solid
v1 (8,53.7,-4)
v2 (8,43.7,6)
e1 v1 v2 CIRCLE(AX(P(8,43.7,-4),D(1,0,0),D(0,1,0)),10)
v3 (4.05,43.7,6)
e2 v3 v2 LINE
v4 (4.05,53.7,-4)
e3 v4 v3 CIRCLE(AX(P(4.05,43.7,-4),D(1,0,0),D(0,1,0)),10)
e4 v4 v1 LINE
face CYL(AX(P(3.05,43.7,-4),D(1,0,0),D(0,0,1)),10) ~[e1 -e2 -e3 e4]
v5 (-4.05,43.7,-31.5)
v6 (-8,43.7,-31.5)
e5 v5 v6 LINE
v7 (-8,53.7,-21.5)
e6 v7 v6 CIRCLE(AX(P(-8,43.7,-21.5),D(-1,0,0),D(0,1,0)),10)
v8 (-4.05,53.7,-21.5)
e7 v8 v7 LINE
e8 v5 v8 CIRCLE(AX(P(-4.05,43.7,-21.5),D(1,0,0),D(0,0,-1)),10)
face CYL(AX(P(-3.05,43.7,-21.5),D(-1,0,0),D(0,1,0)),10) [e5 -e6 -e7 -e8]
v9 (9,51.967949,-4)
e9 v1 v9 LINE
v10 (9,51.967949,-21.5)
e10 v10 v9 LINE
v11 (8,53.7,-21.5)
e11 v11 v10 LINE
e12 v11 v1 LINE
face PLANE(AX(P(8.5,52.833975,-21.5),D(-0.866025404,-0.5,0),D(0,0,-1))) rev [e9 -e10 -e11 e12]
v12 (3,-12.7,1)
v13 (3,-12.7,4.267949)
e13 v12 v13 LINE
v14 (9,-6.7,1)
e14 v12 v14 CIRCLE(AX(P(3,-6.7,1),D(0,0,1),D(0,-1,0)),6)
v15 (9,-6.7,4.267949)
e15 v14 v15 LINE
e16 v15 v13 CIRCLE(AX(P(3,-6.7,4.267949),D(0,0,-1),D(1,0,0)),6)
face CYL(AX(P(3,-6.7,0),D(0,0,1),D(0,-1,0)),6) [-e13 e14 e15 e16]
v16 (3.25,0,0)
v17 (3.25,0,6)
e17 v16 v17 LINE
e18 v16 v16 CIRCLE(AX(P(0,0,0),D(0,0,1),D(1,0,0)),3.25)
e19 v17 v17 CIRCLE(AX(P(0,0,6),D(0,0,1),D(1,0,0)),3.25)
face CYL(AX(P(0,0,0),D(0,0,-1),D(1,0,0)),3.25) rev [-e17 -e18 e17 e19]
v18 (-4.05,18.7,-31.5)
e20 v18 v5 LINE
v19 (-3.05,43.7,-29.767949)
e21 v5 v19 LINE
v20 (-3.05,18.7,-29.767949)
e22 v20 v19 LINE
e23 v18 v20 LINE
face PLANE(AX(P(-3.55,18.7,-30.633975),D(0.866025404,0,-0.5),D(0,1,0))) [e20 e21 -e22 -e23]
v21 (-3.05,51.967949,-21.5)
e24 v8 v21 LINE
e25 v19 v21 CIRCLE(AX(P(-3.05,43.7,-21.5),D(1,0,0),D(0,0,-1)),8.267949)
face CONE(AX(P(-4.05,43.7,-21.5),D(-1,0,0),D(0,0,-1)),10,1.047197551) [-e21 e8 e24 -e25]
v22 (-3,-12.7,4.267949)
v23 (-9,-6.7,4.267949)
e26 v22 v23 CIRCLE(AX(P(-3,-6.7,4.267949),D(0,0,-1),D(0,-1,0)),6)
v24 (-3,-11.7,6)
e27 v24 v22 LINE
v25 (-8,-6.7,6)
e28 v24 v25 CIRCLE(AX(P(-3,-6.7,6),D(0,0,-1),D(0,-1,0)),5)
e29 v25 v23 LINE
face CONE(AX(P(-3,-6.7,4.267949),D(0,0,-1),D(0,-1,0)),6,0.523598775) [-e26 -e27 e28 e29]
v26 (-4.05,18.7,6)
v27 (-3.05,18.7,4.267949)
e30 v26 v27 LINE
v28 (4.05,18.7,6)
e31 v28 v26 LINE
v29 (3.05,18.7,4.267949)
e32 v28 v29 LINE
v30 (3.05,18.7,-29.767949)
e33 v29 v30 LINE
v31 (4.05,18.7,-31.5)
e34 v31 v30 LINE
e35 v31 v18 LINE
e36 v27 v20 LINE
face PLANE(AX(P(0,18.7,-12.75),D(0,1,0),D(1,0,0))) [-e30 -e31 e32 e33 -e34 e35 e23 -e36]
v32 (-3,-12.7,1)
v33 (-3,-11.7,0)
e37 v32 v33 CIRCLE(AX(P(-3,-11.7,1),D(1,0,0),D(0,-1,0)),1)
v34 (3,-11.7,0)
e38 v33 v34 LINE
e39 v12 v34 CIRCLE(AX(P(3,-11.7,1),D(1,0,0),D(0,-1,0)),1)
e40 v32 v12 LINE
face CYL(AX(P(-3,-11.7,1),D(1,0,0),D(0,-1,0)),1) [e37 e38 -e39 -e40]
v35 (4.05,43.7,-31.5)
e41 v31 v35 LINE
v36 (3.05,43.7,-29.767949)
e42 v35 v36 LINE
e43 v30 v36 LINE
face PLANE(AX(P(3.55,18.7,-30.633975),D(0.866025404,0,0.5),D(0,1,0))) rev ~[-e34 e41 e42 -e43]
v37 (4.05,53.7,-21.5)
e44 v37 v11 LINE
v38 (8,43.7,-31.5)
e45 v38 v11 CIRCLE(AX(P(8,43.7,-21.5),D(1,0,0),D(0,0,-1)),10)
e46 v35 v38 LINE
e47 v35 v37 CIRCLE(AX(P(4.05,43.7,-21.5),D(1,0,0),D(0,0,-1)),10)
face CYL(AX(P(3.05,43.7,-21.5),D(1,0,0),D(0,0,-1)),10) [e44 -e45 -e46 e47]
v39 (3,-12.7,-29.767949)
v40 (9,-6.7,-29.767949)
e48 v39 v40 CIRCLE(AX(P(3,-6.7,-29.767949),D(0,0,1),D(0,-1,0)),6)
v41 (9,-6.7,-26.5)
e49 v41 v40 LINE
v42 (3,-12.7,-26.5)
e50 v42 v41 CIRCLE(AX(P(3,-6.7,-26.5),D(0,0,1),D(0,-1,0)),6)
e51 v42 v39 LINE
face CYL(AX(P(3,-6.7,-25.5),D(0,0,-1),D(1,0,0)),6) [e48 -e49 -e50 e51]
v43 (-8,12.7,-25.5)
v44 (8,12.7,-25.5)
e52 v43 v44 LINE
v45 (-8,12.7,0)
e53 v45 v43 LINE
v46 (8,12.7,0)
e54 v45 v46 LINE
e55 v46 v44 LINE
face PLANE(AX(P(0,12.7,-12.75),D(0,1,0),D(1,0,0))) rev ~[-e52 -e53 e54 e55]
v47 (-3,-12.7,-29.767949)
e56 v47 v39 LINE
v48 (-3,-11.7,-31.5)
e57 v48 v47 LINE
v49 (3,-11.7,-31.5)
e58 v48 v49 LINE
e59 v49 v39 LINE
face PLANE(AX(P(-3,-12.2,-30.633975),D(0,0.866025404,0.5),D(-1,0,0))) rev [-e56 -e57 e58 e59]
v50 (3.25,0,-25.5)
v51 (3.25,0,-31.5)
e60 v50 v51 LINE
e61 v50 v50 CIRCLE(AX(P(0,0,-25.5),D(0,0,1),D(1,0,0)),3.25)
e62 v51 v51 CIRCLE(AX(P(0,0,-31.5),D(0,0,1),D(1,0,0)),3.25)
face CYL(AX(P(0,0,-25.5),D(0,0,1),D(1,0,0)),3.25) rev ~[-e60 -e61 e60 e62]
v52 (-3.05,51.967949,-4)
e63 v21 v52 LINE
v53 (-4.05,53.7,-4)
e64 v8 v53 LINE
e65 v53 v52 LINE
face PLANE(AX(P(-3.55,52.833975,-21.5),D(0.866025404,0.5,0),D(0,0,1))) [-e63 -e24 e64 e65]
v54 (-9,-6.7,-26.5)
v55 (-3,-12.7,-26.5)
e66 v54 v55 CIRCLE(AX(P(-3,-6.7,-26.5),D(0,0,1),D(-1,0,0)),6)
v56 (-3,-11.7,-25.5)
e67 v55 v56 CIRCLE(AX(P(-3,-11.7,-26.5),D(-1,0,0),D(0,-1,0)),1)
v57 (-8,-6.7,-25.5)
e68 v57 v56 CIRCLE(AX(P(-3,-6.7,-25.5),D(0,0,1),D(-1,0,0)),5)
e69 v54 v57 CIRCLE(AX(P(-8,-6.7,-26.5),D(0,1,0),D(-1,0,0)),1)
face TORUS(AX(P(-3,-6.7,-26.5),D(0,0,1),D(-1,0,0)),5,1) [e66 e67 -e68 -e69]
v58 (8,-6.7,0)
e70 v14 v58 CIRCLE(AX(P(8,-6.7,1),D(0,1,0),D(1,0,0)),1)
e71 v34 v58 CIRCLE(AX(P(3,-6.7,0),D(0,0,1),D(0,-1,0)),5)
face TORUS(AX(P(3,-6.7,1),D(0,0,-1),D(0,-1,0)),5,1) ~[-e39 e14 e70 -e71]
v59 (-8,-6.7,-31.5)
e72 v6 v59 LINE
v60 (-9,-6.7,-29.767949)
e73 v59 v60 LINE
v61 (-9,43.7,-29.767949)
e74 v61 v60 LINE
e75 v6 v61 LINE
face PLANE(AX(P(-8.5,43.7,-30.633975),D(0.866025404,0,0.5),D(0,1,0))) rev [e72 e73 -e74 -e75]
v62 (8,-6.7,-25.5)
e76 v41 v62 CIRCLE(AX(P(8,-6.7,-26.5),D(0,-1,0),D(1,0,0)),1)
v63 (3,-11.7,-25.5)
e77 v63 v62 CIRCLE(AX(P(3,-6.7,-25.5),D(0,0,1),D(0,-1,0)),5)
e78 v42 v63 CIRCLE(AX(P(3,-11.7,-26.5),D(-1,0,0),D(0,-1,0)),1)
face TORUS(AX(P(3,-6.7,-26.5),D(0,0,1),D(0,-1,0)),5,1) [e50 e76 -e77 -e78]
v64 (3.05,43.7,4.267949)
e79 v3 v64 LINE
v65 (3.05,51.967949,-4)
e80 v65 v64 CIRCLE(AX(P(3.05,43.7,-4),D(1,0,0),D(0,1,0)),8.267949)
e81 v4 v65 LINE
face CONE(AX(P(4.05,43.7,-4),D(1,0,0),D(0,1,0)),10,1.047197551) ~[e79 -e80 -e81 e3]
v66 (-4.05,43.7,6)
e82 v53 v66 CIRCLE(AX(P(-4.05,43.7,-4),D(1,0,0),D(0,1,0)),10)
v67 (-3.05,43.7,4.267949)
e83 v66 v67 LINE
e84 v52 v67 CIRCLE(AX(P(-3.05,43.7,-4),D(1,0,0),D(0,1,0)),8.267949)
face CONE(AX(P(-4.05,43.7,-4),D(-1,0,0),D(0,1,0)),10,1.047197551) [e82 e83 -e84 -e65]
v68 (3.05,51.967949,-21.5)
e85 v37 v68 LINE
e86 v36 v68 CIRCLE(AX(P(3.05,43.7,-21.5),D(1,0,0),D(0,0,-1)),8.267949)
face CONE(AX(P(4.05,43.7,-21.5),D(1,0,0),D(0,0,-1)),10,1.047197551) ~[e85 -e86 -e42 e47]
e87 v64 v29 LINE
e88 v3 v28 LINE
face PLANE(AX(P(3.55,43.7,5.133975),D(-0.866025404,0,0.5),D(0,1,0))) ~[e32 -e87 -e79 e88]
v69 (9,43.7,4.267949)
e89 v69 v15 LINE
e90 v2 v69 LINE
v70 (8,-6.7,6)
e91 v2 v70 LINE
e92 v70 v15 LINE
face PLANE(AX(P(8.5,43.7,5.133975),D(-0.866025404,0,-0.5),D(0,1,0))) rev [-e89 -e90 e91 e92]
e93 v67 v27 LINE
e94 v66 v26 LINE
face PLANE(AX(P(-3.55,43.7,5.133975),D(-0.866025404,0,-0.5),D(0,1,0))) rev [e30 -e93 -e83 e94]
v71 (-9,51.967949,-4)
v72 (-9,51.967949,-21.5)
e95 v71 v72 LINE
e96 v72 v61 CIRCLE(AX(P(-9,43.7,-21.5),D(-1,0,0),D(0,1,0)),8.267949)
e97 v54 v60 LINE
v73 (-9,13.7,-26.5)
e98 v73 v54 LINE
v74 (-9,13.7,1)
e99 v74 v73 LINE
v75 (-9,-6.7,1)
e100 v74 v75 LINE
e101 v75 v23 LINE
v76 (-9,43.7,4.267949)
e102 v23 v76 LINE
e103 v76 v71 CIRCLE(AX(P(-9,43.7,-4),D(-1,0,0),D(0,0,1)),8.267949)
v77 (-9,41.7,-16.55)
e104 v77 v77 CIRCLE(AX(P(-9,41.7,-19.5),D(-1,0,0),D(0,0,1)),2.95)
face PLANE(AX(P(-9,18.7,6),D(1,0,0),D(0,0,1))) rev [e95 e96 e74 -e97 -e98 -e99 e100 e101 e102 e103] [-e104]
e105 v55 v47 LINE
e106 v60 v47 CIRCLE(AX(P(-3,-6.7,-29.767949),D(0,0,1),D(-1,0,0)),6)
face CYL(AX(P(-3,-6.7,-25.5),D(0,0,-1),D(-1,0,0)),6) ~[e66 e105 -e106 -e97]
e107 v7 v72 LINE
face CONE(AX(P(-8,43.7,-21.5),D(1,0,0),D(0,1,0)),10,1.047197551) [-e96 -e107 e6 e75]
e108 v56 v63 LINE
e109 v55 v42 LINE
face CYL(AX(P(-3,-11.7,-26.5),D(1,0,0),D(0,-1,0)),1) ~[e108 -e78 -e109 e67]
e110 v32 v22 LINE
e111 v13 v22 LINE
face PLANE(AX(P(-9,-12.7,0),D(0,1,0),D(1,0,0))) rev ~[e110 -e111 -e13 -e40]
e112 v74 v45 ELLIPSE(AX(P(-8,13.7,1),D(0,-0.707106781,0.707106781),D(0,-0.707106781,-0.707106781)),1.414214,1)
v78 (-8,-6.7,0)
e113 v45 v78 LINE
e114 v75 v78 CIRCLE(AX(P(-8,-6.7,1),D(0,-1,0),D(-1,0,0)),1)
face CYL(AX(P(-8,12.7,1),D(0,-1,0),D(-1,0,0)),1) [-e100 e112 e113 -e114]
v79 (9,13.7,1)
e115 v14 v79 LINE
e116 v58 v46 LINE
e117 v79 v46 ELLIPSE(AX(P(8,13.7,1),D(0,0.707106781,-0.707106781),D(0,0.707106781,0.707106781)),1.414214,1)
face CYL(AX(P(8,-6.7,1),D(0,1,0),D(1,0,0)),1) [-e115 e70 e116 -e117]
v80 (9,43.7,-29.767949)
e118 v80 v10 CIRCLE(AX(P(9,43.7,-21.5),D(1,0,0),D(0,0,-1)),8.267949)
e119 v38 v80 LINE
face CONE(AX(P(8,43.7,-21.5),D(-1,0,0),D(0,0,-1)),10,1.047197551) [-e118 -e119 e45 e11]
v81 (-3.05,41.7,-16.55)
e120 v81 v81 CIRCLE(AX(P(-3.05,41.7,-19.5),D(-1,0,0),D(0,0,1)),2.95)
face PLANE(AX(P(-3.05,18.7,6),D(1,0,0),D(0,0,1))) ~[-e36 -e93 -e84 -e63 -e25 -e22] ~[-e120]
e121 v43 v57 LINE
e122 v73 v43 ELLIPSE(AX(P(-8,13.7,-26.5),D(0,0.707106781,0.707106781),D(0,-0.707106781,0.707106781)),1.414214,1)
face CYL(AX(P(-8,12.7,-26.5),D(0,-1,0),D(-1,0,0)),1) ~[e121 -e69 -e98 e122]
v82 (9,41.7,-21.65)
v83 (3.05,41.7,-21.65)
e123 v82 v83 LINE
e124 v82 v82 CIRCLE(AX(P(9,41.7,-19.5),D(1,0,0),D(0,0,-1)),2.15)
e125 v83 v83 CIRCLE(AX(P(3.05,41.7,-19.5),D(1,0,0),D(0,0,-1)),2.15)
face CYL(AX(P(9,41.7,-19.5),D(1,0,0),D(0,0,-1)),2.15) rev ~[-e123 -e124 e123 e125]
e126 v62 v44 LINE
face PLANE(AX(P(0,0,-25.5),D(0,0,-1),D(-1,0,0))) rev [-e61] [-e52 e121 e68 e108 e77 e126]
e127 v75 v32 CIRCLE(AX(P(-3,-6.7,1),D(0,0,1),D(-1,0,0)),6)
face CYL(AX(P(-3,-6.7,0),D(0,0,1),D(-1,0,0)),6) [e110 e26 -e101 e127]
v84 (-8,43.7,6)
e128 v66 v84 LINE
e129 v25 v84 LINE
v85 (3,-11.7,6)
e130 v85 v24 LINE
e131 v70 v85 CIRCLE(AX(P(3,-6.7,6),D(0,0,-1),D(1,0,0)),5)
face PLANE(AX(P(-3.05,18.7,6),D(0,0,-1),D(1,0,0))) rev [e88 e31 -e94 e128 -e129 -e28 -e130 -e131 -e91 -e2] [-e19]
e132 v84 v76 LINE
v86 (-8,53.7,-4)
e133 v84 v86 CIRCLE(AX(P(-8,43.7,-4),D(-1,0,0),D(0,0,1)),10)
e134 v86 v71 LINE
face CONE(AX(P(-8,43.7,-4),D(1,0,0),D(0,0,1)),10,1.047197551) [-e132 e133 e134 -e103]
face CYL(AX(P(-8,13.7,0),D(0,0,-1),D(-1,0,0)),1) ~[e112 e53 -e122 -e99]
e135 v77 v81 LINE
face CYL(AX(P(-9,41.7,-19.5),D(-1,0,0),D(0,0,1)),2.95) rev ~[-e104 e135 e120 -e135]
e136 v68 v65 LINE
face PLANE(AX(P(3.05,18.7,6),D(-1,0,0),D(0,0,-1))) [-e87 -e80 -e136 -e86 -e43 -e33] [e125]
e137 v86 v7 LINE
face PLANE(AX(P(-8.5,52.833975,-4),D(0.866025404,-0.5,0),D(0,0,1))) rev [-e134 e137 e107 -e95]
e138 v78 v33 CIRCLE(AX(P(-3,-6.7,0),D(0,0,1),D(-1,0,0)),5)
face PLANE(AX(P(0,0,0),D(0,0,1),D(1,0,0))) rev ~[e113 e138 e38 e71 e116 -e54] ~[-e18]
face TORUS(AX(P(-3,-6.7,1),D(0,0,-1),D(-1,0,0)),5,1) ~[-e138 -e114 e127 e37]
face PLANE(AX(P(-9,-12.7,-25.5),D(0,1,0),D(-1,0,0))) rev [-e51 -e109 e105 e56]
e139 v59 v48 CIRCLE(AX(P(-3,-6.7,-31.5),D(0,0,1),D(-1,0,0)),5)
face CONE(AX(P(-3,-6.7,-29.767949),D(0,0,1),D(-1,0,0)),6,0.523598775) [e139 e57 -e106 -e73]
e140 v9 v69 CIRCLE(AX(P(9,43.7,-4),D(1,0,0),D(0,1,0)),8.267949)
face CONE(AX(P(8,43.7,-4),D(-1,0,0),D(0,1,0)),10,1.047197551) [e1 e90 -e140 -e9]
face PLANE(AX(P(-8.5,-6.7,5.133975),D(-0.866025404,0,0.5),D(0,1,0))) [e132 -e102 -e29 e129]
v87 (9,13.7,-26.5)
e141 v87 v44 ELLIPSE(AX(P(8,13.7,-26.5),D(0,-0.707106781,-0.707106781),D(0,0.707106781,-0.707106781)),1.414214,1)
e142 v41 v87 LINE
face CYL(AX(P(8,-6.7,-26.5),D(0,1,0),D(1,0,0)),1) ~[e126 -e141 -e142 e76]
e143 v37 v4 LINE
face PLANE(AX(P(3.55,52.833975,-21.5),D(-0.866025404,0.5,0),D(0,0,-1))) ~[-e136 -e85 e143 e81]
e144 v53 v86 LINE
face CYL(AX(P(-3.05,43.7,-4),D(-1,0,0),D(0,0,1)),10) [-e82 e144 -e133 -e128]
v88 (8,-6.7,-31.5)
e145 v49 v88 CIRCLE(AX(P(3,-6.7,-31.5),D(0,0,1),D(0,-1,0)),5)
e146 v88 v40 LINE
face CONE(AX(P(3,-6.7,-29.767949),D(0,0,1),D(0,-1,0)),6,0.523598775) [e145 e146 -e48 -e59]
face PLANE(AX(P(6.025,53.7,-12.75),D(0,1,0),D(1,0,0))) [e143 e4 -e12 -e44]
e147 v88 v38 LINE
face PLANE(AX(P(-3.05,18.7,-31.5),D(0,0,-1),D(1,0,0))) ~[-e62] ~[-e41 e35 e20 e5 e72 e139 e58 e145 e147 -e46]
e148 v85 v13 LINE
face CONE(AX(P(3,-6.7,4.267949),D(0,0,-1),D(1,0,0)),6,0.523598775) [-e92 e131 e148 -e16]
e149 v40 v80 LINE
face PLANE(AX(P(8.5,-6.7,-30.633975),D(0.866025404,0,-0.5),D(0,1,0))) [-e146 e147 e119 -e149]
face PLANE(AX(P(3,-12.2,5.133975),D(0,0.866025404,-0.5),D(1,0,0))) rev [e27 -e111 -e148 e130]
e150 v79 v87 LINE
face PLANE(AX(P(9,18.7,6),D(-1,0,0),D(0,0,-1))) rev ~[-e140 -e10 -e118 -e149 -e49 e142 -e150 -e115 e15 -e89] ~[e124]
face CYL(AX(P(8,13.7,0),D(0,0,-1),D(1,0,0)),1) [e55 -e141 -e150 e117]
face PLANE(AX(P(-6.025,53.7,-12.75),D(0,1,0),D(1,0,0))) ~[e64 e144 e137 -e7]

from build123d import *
from OCP.BRepFilletAPI import BRepFilletAPI_MakeChamfer

# Parameters (mm, degrees)
SKETCH1_W           = 18
SKETCH1_H           = 25.4
SKETCH1_R           = 3.25
BOSS_EXTRUDE1_DEPTH = 6
SKETCH2_W           = 18
SKETCH2_H           = 37.5
BOSS_EXTRUDE2_DEPTH = 6
SKETCH3_W           = 5.95
SKETCH3_H           = 37.5
BOSS_EXTRUDE3_DEPTH = 35
SKETCH4_R           = 2.15
CUT_EXTRUDE1_DEPTH  = 65.806944072
CUT_EXTRUDE2_REACH  = 66.807
SKETCH5_R           = 2.95
FILLET1_R           = 10
FILLET2_R           = 6
CHAMFER1_SIZE       = 1
CHAMFER1_SIZE2      = 1.732050808
CHAMFER2_SIZE       = 1
CHAMFER2_SIZE2      = 1.732050808
FILLET3_R           = 1


with BuildPart() as part:
    # Sketch1 → Boss-Extrude1 (new body)
    with BuildSketch(Plane.XY):
        Rectangle(SKETCH1_W, SKETCH1_H)
        Circle(SKETCH1_R, mode=Mode.SUBTRACT)
    boss_extrude1 = extrude(amount=BOSS_EXTRUDE1_DEPTH)

    # Sketch2 → Boss-Extrude2 (add)
    with BuildSketch(Plane(origin=(0, 12.7, 0), x_dir=(1, 0, 0), z_dir=(0, 1, 0))):
        with Locations((0, 12.75)):
            Rectangle(SKETCH2_W, SKETCH2_H)
    extrude(amount=BOSS_EXTRUDE2_DEPTH)

    # Mirror1: Boss-Extrude1 across plane
    add(boss_extrude1.mirror(Plane.XY.offset(-12.75)))

    # Sketch3 → Boss-Extrude3 (add)
    with BuildSketch(Plane(origin=(0, 18.7, 0), x_dir=(1, 0, 0), z_dir=(0, 1, 0))):
        with Locations((6.025, 12.75)):
            Rectangle(SKETCH3_W, SKETCH3_H)
    boss_extrude3 = extrude(amount=BOSS_EXTRUDE3_DEPTH)

    # Mirror2: Boss-Extrude3 across plane
    add(boss_extrude3.mirror(Plane(origin=(0, 0, 0), x_dir=(0, 0, 1), z_dir=(1, 0, 0))))

    # Sketch4 → Cut-Extrude1 (cut, through all)
    with BuildSketch(Plane(origin=(9, 0, 0), x_dir=(0, 0, -1), z_dir=(1, 0, 0))):
        with Locations((19.5, 41.7)):
            Circle(SKETCH4_R)
    extrude(amount=-CUT_EXTRUDE1_DEPTH, mode=Mode.SUBTRACT)

    # Sketch5 → Cut-Extrude2 (cut, up to next)
    with BuildSketch(Plane.ZY.offset(9), mode=Mode.PRIVATE) as cut_extrude2_sk1:
        with Locations((-19.5, 41.7)):
            Circle(SKETCH5_R)
    cut_extrude2_tool1 = extrude(cut_extrude2_sk1.sketch, amount=-CUT_EXTRUDE2_REACH, mode=Mode.PRIVATE) & part.part
    add(cut_extrude2_tool1.solids().sort_by_distance((-9, 41.7, -19.5))[0], mode=Mode.SUBTRACT)

    # Fillet1
    fillet1_edges = [part.edges().sort_by_distance(p)[0] for p in [
        (6.025, 53.7, -31.5),
        (6.025, 53.7, 6),
        (-6.025, 53.7, 6),
        (-6.025, 53.7, -31.5),
    ]]
    fillet(fillet1_edges, radius=FILLET1_R)

    # Fillet2
    fillet2_edges = [part.edges().sort_by_distance(p)[0] for p in [
        (9, -12.7, -28.5),
        (-9, -12.7, -28.5),
        (9, -12.7, 3),
        (-9, -12.7, 3),
    ]]
    fillet(fillet2_edges, radius=FILLET2_R)

    # Chamfer1: one chamfer whose edges measure the first distance from different faces: ONE call of the kernel's chamfer builder (chamfer() names one face for all edges)
    chamfer1_edges_1 = [part.edges().sort_by_distance(p)[0] for p in [
        (-3.05, 31.2, -31.5),
        (3.05, 31.2, -31.5),
    ]]
    chamfer1_side_1 = [part.faces().sort_by_distance(p)[0] for p in [
        (0, 13.700522402, -31.5),
    ]]
    chamfer1_edges_2 = [part.edges().sort_by_distance(p)[0] for p in [
        (-3.05, 53.7, -12.75),
    ]]
    chamfer1_side_2 = [part.faces().sort_by_distance(p)[0] for p in [
        (-6.025, 53.7, -12.75),
    ]]
    chamfer1_edges_3 = [part.edges().sort_by_distance(p)[0] for p in [
        (-3.05, 31.2, 6),
        (3.05, 31.2, 6),
    ]]
    chamfer1_side_3 = [part.faces().sort_by_distance(p)[0] for p in [
        (0, 13.700522402, 6),
    ]]
    chamfer1_edges_4 = [part.edges().sort_by_distance(p)[0] for p in [
        (-3.05, 50.771067812, 3.071067812),
    ]]
    chamfer1_side_4 = [part.faces().sort_by_distance(p)[0] for p in [
        (-6.025, 50.771067812, 3.071067812),
    ]]
    chamfer1_edges_5 = [part.edges().sort_by_distance(p)[0] for p in [
        (-3.05, 50.771067812, -28.571067812),
    ]]
    chamfer1_side_5 = [part.faces().sort_by_distance(p)[0] for p in [
        (-6.025, 50.771067812, -28.571067812),
    ]]
    chamfer1_edges_6 = [part.edges().sort_by_distance(p)[0] for p in [
        (3.05, 53.7, -12.75),
    ]]
    chamfer1_side_6 = [part.faces().sort_by_distance(p)[0] for p in [
        (6.025, 53.7, -12.75),
    ]]
    chamfer1_edges_7 = [part.edges().sort_by_distance(p)[0] for p in [
        (3.05, 50.771067812, 3.071067812),
    ]]
    chamfer1_side_7 = [part.faces().sort_by_distance(p)[0] for p in [
        (6.025, 50.771067812, 3.071067812),
    ]]
    chamfer1_edges_8 = [part.edges().sort_by_distance(p)[0] for p in [
        (3.05, 50.771067812, -28.571067812),
    ]]
    chamfer1_side_8 = [part.faces().sort_by_distance(p)[0] for p in [
        (6.025, 50.771067812, -28.571067812),
    ]]
    chamfer1 = BRepFilletAPI_MakeChamfer(part.part.solid().wrapped)
    for e in chamfer1_edges_1:
        chamfer1.Add(CHAMFER1_SIZE, CHAMFER1_SIZE2, e.wrapped, chamfer1_side_1[0].wrapped)  # the first distance lies on this face
    for e in chamfer1_edges_2:
        chamfer1.Add(CHAMFER1_SIZE, CHAMFER1_SIZE2, e.wrapped, chamfer1_side_2[0].wrapped)  # the first distance lies on this face
    for e in chamfer1_edges_3:
        chamfer1.Add(CHAMFER1_SIZE, CHAMFER1_SIZE2, e.wrapped, chamfer1_side_3[0].wrapped)  # the first distance lies on this face
    for e in chamfer1_edges_4:
        chamfer1.Add(CHAMFER1_SIZE, CHAMFER1_SIZE2, e.wrapped, chamfer1_side_4[0].wrapped)  # the first distance lies on this face
    for e in chamfer1_edges_5:
        chamfer1.Add(CHAMFER1_SIZE, CHAMFER1_SIZE2, e.wrapped, chamfer1_side_5[0].wrapped)  # the first distance lies on this face
    for e in chamfer1_edges_6:
        chamfer1.Add(CHAMFER1_SIZE, CHAMFER1_SIZE2, e.wrapped, chamfer1_side_6[0].wrapped)  # the first distance lies on this face
    for e in chamfer1_edges_7:
        chamfer1.Add(CHAMFER1_SIZE, CHAMFER1_SIZE2, e.wrapped, chamfer1_side_7[0].wrapped)  # the first distance lies on this face
    for e in chamfer1_edges_8:
        chamfer1.Add(CHAMFER1_SIZE, CHAMFER1_SIZE2, e.wrapped, chamfer1_side_8[0].wrapped)  # the first distance lies on this face
    add(Compound.cast(chamfer1.Shape()), mode=Mode.REPLACE)

    # Chamfer2: one chamfer whose edges measure the first distance from different faces: ONE call of the kernel's chamfer builder (chamfer() names one face for all edges)
    chamfer2_edges_1 = [part.edges().sort_by_distance(p)[0] for p in [
        (0, -12.7, -31.5),
        (7.242640687, -10.942640687, -31.5),
        (-7.242640687, -10.942640687, -31.5),
        (9, 18.5, -31.5),
        (-9, 18.5, -31.5),
    ]]
    chamfer2_side_1 = [part.faces().sort_by_distance(p)[0] for p in [
        (0, 12.555366953, -31.5),
    ]]
    chamfer2_edges_2 = [part.edges().sort_by_distance(p)[0] for p in [
        (9, 18.5, 6),
        (0, -12.7, 6),
        (7.242640687, -10.942640687, 6),
        (-7.242640687, -10.942640687, 6),
        (-9, 18.5, 6),
    ]]
    chamfer2_side_2 = [part.faces().sort_by_distance(p)[0] for p in [
        (0, 12.555366953, 6),
    ]]
    chamfer2_edges_3 = [part.edges().sort_by_distance(p)[0] for p in [
        (-9, 53.7, -12.75),
    ]]
    chamfer2_side_3 = [part.faces().sort_by_distance(p)[0] for p in [
        (-6.525, 53.7, -12.75),
    ]]
    chamfer2_edges_4 = [part.edges().sort_by_distance(p)[0] for p in [
        (-9, 50.771067812, 3.071067812),
    ]]
    chamfer2_side_4 = [part.faces().sort_by_distance(p)[0] for p in [
        (-6.525, 50.771067812, 3.071067812),
    ]]
    chamfer2_edges_5 = [part.edges().sort_by_distance(p)[0] for p in [
        (-9, 50.771067812, -28.571067812),
    ]]
    chamfer2_side_5 = [part.faces().sort_by_distance(p)[0] for p in [
        (-6.525, 50.771067812, -28.571067812),
    ]]
    chamfer2_edges_6 = [part.edges().sort_by_distance(p)[0] for p in [
        (9, 53.7, -12.75),
    ]]
    chamfer2_side_6 = [part.faces().sort_by_distance(p)[0] for p in [
        (6.525, 53.7, -12.75),
    ]]
    chamfer2_edges_7 = [part.edges().sort_by_distance(p)[0] for p in [
        (9, 50.771067812, 3.071067812),
    ]]
    chamfer2_side_7 = [part.faces().sort_by_distance(p)[0] for p in [
        (6.525, 50.771067812, 3.071067812),
    ]]
    chamfer2_edges_8 = [part.edges().sort_by_distance(p)[0] for p in [
        (9, 50.771067812, -28.571067812),
    ]]
    chamfer2_side_8 = [part.faces().sort_by_distance(p)[0] for p in [
        (6.525, 50.771067812, -28.571067812),
    ]]
    chamfer2 = BRepFilletAPI_MakeChamfer(part.part.solid().wrapped)
    for e in chamfer2_edges_1:
        chamfer2.Add(CHAMFER2_SIZE, CHAMFER2_SIZE2, e.wrapped, chamfer2_side_1[0].wrapped)  # the first distance lies on this face
    for e in chamfer2_edges_2:
        chamfer2.Add(CHAMFER2_SIZE, CHAMFER2_SIZE2, e.wrapped, chamfer2_side_2[0].wrapped)  # the first distance lies on this face
    for e in chamfer2_edges_3:
        chamfer2.Add(CHAMFER2_SIZE, CHAMFER2_SIZE2, e.wrapped, chamfer2_side_3[0].wrapped)  # the first distance lies on this face
    for e in chamfer2_edges_4:
        chamfer2.Add(CHAMFER2_SIZE, CHAMFER2_SIZE2, e.wrapped, chamfer2_side_4[0].wrapped)  # the first distance lies on this face
    for e in chamfer2_edges_5:
        chamfer2.Add(CHAMFER2_SIZE, CHAMFER2_SIZE2, e.wrapped, chamfer2_side_5[0].wrapped)  # the first distance lies on this face
    for e in chamfer2_edges_6:
        chamfer2.Add(CHAMFER2_SIZE, CHAMFER2_SIZE2, e.wrapped, chamfer2_side_6[0].wrapped)  # the first distance lies on this face
    for e in chamfer2_edges_7:
        chamfer2.Add(CHAMFER2_SIZE, CHAMFER2_SIZE2, e.wrapped, chamfer2_side_7[0].wrapped)  # the first distance lies on this face
    for e in chamfer2_edges_8:
        chamfer2.Add(CHAMFER2_SIZE, CHAMFER2_SIZE2, e.wrapped, chamfer2_side_8[0].wrapped)  # the first distance lies on this face
    add(Compound.cast(chamfer2.Shape()), mode=Mode.REPLACE)

    # Fillet3
    fillet3_edges = [part.edges().sort_by_distance(p)[0] for p in [
        (9, 3, -25.5),
        (0, -12.7, -25.5),
        (7.242640687, -10.942640687, -25.5),
        (-7.242640687, -10.942640687, -25.5),
        (9, 3, 0),
        (0, -12.7, 0),
        (7.242640687, -10.942640687, 0),
        (-7.242640687, -10.942640687, 0),
        (9, 12.7, -12.75),
        (-9, 12.7, -12.75),
        (-9, 3, -25.5),
        (-9, 3, 0),
    ]]
    fillet(fillet3_edges, radius=FILLET3_R)


solid = part.part
